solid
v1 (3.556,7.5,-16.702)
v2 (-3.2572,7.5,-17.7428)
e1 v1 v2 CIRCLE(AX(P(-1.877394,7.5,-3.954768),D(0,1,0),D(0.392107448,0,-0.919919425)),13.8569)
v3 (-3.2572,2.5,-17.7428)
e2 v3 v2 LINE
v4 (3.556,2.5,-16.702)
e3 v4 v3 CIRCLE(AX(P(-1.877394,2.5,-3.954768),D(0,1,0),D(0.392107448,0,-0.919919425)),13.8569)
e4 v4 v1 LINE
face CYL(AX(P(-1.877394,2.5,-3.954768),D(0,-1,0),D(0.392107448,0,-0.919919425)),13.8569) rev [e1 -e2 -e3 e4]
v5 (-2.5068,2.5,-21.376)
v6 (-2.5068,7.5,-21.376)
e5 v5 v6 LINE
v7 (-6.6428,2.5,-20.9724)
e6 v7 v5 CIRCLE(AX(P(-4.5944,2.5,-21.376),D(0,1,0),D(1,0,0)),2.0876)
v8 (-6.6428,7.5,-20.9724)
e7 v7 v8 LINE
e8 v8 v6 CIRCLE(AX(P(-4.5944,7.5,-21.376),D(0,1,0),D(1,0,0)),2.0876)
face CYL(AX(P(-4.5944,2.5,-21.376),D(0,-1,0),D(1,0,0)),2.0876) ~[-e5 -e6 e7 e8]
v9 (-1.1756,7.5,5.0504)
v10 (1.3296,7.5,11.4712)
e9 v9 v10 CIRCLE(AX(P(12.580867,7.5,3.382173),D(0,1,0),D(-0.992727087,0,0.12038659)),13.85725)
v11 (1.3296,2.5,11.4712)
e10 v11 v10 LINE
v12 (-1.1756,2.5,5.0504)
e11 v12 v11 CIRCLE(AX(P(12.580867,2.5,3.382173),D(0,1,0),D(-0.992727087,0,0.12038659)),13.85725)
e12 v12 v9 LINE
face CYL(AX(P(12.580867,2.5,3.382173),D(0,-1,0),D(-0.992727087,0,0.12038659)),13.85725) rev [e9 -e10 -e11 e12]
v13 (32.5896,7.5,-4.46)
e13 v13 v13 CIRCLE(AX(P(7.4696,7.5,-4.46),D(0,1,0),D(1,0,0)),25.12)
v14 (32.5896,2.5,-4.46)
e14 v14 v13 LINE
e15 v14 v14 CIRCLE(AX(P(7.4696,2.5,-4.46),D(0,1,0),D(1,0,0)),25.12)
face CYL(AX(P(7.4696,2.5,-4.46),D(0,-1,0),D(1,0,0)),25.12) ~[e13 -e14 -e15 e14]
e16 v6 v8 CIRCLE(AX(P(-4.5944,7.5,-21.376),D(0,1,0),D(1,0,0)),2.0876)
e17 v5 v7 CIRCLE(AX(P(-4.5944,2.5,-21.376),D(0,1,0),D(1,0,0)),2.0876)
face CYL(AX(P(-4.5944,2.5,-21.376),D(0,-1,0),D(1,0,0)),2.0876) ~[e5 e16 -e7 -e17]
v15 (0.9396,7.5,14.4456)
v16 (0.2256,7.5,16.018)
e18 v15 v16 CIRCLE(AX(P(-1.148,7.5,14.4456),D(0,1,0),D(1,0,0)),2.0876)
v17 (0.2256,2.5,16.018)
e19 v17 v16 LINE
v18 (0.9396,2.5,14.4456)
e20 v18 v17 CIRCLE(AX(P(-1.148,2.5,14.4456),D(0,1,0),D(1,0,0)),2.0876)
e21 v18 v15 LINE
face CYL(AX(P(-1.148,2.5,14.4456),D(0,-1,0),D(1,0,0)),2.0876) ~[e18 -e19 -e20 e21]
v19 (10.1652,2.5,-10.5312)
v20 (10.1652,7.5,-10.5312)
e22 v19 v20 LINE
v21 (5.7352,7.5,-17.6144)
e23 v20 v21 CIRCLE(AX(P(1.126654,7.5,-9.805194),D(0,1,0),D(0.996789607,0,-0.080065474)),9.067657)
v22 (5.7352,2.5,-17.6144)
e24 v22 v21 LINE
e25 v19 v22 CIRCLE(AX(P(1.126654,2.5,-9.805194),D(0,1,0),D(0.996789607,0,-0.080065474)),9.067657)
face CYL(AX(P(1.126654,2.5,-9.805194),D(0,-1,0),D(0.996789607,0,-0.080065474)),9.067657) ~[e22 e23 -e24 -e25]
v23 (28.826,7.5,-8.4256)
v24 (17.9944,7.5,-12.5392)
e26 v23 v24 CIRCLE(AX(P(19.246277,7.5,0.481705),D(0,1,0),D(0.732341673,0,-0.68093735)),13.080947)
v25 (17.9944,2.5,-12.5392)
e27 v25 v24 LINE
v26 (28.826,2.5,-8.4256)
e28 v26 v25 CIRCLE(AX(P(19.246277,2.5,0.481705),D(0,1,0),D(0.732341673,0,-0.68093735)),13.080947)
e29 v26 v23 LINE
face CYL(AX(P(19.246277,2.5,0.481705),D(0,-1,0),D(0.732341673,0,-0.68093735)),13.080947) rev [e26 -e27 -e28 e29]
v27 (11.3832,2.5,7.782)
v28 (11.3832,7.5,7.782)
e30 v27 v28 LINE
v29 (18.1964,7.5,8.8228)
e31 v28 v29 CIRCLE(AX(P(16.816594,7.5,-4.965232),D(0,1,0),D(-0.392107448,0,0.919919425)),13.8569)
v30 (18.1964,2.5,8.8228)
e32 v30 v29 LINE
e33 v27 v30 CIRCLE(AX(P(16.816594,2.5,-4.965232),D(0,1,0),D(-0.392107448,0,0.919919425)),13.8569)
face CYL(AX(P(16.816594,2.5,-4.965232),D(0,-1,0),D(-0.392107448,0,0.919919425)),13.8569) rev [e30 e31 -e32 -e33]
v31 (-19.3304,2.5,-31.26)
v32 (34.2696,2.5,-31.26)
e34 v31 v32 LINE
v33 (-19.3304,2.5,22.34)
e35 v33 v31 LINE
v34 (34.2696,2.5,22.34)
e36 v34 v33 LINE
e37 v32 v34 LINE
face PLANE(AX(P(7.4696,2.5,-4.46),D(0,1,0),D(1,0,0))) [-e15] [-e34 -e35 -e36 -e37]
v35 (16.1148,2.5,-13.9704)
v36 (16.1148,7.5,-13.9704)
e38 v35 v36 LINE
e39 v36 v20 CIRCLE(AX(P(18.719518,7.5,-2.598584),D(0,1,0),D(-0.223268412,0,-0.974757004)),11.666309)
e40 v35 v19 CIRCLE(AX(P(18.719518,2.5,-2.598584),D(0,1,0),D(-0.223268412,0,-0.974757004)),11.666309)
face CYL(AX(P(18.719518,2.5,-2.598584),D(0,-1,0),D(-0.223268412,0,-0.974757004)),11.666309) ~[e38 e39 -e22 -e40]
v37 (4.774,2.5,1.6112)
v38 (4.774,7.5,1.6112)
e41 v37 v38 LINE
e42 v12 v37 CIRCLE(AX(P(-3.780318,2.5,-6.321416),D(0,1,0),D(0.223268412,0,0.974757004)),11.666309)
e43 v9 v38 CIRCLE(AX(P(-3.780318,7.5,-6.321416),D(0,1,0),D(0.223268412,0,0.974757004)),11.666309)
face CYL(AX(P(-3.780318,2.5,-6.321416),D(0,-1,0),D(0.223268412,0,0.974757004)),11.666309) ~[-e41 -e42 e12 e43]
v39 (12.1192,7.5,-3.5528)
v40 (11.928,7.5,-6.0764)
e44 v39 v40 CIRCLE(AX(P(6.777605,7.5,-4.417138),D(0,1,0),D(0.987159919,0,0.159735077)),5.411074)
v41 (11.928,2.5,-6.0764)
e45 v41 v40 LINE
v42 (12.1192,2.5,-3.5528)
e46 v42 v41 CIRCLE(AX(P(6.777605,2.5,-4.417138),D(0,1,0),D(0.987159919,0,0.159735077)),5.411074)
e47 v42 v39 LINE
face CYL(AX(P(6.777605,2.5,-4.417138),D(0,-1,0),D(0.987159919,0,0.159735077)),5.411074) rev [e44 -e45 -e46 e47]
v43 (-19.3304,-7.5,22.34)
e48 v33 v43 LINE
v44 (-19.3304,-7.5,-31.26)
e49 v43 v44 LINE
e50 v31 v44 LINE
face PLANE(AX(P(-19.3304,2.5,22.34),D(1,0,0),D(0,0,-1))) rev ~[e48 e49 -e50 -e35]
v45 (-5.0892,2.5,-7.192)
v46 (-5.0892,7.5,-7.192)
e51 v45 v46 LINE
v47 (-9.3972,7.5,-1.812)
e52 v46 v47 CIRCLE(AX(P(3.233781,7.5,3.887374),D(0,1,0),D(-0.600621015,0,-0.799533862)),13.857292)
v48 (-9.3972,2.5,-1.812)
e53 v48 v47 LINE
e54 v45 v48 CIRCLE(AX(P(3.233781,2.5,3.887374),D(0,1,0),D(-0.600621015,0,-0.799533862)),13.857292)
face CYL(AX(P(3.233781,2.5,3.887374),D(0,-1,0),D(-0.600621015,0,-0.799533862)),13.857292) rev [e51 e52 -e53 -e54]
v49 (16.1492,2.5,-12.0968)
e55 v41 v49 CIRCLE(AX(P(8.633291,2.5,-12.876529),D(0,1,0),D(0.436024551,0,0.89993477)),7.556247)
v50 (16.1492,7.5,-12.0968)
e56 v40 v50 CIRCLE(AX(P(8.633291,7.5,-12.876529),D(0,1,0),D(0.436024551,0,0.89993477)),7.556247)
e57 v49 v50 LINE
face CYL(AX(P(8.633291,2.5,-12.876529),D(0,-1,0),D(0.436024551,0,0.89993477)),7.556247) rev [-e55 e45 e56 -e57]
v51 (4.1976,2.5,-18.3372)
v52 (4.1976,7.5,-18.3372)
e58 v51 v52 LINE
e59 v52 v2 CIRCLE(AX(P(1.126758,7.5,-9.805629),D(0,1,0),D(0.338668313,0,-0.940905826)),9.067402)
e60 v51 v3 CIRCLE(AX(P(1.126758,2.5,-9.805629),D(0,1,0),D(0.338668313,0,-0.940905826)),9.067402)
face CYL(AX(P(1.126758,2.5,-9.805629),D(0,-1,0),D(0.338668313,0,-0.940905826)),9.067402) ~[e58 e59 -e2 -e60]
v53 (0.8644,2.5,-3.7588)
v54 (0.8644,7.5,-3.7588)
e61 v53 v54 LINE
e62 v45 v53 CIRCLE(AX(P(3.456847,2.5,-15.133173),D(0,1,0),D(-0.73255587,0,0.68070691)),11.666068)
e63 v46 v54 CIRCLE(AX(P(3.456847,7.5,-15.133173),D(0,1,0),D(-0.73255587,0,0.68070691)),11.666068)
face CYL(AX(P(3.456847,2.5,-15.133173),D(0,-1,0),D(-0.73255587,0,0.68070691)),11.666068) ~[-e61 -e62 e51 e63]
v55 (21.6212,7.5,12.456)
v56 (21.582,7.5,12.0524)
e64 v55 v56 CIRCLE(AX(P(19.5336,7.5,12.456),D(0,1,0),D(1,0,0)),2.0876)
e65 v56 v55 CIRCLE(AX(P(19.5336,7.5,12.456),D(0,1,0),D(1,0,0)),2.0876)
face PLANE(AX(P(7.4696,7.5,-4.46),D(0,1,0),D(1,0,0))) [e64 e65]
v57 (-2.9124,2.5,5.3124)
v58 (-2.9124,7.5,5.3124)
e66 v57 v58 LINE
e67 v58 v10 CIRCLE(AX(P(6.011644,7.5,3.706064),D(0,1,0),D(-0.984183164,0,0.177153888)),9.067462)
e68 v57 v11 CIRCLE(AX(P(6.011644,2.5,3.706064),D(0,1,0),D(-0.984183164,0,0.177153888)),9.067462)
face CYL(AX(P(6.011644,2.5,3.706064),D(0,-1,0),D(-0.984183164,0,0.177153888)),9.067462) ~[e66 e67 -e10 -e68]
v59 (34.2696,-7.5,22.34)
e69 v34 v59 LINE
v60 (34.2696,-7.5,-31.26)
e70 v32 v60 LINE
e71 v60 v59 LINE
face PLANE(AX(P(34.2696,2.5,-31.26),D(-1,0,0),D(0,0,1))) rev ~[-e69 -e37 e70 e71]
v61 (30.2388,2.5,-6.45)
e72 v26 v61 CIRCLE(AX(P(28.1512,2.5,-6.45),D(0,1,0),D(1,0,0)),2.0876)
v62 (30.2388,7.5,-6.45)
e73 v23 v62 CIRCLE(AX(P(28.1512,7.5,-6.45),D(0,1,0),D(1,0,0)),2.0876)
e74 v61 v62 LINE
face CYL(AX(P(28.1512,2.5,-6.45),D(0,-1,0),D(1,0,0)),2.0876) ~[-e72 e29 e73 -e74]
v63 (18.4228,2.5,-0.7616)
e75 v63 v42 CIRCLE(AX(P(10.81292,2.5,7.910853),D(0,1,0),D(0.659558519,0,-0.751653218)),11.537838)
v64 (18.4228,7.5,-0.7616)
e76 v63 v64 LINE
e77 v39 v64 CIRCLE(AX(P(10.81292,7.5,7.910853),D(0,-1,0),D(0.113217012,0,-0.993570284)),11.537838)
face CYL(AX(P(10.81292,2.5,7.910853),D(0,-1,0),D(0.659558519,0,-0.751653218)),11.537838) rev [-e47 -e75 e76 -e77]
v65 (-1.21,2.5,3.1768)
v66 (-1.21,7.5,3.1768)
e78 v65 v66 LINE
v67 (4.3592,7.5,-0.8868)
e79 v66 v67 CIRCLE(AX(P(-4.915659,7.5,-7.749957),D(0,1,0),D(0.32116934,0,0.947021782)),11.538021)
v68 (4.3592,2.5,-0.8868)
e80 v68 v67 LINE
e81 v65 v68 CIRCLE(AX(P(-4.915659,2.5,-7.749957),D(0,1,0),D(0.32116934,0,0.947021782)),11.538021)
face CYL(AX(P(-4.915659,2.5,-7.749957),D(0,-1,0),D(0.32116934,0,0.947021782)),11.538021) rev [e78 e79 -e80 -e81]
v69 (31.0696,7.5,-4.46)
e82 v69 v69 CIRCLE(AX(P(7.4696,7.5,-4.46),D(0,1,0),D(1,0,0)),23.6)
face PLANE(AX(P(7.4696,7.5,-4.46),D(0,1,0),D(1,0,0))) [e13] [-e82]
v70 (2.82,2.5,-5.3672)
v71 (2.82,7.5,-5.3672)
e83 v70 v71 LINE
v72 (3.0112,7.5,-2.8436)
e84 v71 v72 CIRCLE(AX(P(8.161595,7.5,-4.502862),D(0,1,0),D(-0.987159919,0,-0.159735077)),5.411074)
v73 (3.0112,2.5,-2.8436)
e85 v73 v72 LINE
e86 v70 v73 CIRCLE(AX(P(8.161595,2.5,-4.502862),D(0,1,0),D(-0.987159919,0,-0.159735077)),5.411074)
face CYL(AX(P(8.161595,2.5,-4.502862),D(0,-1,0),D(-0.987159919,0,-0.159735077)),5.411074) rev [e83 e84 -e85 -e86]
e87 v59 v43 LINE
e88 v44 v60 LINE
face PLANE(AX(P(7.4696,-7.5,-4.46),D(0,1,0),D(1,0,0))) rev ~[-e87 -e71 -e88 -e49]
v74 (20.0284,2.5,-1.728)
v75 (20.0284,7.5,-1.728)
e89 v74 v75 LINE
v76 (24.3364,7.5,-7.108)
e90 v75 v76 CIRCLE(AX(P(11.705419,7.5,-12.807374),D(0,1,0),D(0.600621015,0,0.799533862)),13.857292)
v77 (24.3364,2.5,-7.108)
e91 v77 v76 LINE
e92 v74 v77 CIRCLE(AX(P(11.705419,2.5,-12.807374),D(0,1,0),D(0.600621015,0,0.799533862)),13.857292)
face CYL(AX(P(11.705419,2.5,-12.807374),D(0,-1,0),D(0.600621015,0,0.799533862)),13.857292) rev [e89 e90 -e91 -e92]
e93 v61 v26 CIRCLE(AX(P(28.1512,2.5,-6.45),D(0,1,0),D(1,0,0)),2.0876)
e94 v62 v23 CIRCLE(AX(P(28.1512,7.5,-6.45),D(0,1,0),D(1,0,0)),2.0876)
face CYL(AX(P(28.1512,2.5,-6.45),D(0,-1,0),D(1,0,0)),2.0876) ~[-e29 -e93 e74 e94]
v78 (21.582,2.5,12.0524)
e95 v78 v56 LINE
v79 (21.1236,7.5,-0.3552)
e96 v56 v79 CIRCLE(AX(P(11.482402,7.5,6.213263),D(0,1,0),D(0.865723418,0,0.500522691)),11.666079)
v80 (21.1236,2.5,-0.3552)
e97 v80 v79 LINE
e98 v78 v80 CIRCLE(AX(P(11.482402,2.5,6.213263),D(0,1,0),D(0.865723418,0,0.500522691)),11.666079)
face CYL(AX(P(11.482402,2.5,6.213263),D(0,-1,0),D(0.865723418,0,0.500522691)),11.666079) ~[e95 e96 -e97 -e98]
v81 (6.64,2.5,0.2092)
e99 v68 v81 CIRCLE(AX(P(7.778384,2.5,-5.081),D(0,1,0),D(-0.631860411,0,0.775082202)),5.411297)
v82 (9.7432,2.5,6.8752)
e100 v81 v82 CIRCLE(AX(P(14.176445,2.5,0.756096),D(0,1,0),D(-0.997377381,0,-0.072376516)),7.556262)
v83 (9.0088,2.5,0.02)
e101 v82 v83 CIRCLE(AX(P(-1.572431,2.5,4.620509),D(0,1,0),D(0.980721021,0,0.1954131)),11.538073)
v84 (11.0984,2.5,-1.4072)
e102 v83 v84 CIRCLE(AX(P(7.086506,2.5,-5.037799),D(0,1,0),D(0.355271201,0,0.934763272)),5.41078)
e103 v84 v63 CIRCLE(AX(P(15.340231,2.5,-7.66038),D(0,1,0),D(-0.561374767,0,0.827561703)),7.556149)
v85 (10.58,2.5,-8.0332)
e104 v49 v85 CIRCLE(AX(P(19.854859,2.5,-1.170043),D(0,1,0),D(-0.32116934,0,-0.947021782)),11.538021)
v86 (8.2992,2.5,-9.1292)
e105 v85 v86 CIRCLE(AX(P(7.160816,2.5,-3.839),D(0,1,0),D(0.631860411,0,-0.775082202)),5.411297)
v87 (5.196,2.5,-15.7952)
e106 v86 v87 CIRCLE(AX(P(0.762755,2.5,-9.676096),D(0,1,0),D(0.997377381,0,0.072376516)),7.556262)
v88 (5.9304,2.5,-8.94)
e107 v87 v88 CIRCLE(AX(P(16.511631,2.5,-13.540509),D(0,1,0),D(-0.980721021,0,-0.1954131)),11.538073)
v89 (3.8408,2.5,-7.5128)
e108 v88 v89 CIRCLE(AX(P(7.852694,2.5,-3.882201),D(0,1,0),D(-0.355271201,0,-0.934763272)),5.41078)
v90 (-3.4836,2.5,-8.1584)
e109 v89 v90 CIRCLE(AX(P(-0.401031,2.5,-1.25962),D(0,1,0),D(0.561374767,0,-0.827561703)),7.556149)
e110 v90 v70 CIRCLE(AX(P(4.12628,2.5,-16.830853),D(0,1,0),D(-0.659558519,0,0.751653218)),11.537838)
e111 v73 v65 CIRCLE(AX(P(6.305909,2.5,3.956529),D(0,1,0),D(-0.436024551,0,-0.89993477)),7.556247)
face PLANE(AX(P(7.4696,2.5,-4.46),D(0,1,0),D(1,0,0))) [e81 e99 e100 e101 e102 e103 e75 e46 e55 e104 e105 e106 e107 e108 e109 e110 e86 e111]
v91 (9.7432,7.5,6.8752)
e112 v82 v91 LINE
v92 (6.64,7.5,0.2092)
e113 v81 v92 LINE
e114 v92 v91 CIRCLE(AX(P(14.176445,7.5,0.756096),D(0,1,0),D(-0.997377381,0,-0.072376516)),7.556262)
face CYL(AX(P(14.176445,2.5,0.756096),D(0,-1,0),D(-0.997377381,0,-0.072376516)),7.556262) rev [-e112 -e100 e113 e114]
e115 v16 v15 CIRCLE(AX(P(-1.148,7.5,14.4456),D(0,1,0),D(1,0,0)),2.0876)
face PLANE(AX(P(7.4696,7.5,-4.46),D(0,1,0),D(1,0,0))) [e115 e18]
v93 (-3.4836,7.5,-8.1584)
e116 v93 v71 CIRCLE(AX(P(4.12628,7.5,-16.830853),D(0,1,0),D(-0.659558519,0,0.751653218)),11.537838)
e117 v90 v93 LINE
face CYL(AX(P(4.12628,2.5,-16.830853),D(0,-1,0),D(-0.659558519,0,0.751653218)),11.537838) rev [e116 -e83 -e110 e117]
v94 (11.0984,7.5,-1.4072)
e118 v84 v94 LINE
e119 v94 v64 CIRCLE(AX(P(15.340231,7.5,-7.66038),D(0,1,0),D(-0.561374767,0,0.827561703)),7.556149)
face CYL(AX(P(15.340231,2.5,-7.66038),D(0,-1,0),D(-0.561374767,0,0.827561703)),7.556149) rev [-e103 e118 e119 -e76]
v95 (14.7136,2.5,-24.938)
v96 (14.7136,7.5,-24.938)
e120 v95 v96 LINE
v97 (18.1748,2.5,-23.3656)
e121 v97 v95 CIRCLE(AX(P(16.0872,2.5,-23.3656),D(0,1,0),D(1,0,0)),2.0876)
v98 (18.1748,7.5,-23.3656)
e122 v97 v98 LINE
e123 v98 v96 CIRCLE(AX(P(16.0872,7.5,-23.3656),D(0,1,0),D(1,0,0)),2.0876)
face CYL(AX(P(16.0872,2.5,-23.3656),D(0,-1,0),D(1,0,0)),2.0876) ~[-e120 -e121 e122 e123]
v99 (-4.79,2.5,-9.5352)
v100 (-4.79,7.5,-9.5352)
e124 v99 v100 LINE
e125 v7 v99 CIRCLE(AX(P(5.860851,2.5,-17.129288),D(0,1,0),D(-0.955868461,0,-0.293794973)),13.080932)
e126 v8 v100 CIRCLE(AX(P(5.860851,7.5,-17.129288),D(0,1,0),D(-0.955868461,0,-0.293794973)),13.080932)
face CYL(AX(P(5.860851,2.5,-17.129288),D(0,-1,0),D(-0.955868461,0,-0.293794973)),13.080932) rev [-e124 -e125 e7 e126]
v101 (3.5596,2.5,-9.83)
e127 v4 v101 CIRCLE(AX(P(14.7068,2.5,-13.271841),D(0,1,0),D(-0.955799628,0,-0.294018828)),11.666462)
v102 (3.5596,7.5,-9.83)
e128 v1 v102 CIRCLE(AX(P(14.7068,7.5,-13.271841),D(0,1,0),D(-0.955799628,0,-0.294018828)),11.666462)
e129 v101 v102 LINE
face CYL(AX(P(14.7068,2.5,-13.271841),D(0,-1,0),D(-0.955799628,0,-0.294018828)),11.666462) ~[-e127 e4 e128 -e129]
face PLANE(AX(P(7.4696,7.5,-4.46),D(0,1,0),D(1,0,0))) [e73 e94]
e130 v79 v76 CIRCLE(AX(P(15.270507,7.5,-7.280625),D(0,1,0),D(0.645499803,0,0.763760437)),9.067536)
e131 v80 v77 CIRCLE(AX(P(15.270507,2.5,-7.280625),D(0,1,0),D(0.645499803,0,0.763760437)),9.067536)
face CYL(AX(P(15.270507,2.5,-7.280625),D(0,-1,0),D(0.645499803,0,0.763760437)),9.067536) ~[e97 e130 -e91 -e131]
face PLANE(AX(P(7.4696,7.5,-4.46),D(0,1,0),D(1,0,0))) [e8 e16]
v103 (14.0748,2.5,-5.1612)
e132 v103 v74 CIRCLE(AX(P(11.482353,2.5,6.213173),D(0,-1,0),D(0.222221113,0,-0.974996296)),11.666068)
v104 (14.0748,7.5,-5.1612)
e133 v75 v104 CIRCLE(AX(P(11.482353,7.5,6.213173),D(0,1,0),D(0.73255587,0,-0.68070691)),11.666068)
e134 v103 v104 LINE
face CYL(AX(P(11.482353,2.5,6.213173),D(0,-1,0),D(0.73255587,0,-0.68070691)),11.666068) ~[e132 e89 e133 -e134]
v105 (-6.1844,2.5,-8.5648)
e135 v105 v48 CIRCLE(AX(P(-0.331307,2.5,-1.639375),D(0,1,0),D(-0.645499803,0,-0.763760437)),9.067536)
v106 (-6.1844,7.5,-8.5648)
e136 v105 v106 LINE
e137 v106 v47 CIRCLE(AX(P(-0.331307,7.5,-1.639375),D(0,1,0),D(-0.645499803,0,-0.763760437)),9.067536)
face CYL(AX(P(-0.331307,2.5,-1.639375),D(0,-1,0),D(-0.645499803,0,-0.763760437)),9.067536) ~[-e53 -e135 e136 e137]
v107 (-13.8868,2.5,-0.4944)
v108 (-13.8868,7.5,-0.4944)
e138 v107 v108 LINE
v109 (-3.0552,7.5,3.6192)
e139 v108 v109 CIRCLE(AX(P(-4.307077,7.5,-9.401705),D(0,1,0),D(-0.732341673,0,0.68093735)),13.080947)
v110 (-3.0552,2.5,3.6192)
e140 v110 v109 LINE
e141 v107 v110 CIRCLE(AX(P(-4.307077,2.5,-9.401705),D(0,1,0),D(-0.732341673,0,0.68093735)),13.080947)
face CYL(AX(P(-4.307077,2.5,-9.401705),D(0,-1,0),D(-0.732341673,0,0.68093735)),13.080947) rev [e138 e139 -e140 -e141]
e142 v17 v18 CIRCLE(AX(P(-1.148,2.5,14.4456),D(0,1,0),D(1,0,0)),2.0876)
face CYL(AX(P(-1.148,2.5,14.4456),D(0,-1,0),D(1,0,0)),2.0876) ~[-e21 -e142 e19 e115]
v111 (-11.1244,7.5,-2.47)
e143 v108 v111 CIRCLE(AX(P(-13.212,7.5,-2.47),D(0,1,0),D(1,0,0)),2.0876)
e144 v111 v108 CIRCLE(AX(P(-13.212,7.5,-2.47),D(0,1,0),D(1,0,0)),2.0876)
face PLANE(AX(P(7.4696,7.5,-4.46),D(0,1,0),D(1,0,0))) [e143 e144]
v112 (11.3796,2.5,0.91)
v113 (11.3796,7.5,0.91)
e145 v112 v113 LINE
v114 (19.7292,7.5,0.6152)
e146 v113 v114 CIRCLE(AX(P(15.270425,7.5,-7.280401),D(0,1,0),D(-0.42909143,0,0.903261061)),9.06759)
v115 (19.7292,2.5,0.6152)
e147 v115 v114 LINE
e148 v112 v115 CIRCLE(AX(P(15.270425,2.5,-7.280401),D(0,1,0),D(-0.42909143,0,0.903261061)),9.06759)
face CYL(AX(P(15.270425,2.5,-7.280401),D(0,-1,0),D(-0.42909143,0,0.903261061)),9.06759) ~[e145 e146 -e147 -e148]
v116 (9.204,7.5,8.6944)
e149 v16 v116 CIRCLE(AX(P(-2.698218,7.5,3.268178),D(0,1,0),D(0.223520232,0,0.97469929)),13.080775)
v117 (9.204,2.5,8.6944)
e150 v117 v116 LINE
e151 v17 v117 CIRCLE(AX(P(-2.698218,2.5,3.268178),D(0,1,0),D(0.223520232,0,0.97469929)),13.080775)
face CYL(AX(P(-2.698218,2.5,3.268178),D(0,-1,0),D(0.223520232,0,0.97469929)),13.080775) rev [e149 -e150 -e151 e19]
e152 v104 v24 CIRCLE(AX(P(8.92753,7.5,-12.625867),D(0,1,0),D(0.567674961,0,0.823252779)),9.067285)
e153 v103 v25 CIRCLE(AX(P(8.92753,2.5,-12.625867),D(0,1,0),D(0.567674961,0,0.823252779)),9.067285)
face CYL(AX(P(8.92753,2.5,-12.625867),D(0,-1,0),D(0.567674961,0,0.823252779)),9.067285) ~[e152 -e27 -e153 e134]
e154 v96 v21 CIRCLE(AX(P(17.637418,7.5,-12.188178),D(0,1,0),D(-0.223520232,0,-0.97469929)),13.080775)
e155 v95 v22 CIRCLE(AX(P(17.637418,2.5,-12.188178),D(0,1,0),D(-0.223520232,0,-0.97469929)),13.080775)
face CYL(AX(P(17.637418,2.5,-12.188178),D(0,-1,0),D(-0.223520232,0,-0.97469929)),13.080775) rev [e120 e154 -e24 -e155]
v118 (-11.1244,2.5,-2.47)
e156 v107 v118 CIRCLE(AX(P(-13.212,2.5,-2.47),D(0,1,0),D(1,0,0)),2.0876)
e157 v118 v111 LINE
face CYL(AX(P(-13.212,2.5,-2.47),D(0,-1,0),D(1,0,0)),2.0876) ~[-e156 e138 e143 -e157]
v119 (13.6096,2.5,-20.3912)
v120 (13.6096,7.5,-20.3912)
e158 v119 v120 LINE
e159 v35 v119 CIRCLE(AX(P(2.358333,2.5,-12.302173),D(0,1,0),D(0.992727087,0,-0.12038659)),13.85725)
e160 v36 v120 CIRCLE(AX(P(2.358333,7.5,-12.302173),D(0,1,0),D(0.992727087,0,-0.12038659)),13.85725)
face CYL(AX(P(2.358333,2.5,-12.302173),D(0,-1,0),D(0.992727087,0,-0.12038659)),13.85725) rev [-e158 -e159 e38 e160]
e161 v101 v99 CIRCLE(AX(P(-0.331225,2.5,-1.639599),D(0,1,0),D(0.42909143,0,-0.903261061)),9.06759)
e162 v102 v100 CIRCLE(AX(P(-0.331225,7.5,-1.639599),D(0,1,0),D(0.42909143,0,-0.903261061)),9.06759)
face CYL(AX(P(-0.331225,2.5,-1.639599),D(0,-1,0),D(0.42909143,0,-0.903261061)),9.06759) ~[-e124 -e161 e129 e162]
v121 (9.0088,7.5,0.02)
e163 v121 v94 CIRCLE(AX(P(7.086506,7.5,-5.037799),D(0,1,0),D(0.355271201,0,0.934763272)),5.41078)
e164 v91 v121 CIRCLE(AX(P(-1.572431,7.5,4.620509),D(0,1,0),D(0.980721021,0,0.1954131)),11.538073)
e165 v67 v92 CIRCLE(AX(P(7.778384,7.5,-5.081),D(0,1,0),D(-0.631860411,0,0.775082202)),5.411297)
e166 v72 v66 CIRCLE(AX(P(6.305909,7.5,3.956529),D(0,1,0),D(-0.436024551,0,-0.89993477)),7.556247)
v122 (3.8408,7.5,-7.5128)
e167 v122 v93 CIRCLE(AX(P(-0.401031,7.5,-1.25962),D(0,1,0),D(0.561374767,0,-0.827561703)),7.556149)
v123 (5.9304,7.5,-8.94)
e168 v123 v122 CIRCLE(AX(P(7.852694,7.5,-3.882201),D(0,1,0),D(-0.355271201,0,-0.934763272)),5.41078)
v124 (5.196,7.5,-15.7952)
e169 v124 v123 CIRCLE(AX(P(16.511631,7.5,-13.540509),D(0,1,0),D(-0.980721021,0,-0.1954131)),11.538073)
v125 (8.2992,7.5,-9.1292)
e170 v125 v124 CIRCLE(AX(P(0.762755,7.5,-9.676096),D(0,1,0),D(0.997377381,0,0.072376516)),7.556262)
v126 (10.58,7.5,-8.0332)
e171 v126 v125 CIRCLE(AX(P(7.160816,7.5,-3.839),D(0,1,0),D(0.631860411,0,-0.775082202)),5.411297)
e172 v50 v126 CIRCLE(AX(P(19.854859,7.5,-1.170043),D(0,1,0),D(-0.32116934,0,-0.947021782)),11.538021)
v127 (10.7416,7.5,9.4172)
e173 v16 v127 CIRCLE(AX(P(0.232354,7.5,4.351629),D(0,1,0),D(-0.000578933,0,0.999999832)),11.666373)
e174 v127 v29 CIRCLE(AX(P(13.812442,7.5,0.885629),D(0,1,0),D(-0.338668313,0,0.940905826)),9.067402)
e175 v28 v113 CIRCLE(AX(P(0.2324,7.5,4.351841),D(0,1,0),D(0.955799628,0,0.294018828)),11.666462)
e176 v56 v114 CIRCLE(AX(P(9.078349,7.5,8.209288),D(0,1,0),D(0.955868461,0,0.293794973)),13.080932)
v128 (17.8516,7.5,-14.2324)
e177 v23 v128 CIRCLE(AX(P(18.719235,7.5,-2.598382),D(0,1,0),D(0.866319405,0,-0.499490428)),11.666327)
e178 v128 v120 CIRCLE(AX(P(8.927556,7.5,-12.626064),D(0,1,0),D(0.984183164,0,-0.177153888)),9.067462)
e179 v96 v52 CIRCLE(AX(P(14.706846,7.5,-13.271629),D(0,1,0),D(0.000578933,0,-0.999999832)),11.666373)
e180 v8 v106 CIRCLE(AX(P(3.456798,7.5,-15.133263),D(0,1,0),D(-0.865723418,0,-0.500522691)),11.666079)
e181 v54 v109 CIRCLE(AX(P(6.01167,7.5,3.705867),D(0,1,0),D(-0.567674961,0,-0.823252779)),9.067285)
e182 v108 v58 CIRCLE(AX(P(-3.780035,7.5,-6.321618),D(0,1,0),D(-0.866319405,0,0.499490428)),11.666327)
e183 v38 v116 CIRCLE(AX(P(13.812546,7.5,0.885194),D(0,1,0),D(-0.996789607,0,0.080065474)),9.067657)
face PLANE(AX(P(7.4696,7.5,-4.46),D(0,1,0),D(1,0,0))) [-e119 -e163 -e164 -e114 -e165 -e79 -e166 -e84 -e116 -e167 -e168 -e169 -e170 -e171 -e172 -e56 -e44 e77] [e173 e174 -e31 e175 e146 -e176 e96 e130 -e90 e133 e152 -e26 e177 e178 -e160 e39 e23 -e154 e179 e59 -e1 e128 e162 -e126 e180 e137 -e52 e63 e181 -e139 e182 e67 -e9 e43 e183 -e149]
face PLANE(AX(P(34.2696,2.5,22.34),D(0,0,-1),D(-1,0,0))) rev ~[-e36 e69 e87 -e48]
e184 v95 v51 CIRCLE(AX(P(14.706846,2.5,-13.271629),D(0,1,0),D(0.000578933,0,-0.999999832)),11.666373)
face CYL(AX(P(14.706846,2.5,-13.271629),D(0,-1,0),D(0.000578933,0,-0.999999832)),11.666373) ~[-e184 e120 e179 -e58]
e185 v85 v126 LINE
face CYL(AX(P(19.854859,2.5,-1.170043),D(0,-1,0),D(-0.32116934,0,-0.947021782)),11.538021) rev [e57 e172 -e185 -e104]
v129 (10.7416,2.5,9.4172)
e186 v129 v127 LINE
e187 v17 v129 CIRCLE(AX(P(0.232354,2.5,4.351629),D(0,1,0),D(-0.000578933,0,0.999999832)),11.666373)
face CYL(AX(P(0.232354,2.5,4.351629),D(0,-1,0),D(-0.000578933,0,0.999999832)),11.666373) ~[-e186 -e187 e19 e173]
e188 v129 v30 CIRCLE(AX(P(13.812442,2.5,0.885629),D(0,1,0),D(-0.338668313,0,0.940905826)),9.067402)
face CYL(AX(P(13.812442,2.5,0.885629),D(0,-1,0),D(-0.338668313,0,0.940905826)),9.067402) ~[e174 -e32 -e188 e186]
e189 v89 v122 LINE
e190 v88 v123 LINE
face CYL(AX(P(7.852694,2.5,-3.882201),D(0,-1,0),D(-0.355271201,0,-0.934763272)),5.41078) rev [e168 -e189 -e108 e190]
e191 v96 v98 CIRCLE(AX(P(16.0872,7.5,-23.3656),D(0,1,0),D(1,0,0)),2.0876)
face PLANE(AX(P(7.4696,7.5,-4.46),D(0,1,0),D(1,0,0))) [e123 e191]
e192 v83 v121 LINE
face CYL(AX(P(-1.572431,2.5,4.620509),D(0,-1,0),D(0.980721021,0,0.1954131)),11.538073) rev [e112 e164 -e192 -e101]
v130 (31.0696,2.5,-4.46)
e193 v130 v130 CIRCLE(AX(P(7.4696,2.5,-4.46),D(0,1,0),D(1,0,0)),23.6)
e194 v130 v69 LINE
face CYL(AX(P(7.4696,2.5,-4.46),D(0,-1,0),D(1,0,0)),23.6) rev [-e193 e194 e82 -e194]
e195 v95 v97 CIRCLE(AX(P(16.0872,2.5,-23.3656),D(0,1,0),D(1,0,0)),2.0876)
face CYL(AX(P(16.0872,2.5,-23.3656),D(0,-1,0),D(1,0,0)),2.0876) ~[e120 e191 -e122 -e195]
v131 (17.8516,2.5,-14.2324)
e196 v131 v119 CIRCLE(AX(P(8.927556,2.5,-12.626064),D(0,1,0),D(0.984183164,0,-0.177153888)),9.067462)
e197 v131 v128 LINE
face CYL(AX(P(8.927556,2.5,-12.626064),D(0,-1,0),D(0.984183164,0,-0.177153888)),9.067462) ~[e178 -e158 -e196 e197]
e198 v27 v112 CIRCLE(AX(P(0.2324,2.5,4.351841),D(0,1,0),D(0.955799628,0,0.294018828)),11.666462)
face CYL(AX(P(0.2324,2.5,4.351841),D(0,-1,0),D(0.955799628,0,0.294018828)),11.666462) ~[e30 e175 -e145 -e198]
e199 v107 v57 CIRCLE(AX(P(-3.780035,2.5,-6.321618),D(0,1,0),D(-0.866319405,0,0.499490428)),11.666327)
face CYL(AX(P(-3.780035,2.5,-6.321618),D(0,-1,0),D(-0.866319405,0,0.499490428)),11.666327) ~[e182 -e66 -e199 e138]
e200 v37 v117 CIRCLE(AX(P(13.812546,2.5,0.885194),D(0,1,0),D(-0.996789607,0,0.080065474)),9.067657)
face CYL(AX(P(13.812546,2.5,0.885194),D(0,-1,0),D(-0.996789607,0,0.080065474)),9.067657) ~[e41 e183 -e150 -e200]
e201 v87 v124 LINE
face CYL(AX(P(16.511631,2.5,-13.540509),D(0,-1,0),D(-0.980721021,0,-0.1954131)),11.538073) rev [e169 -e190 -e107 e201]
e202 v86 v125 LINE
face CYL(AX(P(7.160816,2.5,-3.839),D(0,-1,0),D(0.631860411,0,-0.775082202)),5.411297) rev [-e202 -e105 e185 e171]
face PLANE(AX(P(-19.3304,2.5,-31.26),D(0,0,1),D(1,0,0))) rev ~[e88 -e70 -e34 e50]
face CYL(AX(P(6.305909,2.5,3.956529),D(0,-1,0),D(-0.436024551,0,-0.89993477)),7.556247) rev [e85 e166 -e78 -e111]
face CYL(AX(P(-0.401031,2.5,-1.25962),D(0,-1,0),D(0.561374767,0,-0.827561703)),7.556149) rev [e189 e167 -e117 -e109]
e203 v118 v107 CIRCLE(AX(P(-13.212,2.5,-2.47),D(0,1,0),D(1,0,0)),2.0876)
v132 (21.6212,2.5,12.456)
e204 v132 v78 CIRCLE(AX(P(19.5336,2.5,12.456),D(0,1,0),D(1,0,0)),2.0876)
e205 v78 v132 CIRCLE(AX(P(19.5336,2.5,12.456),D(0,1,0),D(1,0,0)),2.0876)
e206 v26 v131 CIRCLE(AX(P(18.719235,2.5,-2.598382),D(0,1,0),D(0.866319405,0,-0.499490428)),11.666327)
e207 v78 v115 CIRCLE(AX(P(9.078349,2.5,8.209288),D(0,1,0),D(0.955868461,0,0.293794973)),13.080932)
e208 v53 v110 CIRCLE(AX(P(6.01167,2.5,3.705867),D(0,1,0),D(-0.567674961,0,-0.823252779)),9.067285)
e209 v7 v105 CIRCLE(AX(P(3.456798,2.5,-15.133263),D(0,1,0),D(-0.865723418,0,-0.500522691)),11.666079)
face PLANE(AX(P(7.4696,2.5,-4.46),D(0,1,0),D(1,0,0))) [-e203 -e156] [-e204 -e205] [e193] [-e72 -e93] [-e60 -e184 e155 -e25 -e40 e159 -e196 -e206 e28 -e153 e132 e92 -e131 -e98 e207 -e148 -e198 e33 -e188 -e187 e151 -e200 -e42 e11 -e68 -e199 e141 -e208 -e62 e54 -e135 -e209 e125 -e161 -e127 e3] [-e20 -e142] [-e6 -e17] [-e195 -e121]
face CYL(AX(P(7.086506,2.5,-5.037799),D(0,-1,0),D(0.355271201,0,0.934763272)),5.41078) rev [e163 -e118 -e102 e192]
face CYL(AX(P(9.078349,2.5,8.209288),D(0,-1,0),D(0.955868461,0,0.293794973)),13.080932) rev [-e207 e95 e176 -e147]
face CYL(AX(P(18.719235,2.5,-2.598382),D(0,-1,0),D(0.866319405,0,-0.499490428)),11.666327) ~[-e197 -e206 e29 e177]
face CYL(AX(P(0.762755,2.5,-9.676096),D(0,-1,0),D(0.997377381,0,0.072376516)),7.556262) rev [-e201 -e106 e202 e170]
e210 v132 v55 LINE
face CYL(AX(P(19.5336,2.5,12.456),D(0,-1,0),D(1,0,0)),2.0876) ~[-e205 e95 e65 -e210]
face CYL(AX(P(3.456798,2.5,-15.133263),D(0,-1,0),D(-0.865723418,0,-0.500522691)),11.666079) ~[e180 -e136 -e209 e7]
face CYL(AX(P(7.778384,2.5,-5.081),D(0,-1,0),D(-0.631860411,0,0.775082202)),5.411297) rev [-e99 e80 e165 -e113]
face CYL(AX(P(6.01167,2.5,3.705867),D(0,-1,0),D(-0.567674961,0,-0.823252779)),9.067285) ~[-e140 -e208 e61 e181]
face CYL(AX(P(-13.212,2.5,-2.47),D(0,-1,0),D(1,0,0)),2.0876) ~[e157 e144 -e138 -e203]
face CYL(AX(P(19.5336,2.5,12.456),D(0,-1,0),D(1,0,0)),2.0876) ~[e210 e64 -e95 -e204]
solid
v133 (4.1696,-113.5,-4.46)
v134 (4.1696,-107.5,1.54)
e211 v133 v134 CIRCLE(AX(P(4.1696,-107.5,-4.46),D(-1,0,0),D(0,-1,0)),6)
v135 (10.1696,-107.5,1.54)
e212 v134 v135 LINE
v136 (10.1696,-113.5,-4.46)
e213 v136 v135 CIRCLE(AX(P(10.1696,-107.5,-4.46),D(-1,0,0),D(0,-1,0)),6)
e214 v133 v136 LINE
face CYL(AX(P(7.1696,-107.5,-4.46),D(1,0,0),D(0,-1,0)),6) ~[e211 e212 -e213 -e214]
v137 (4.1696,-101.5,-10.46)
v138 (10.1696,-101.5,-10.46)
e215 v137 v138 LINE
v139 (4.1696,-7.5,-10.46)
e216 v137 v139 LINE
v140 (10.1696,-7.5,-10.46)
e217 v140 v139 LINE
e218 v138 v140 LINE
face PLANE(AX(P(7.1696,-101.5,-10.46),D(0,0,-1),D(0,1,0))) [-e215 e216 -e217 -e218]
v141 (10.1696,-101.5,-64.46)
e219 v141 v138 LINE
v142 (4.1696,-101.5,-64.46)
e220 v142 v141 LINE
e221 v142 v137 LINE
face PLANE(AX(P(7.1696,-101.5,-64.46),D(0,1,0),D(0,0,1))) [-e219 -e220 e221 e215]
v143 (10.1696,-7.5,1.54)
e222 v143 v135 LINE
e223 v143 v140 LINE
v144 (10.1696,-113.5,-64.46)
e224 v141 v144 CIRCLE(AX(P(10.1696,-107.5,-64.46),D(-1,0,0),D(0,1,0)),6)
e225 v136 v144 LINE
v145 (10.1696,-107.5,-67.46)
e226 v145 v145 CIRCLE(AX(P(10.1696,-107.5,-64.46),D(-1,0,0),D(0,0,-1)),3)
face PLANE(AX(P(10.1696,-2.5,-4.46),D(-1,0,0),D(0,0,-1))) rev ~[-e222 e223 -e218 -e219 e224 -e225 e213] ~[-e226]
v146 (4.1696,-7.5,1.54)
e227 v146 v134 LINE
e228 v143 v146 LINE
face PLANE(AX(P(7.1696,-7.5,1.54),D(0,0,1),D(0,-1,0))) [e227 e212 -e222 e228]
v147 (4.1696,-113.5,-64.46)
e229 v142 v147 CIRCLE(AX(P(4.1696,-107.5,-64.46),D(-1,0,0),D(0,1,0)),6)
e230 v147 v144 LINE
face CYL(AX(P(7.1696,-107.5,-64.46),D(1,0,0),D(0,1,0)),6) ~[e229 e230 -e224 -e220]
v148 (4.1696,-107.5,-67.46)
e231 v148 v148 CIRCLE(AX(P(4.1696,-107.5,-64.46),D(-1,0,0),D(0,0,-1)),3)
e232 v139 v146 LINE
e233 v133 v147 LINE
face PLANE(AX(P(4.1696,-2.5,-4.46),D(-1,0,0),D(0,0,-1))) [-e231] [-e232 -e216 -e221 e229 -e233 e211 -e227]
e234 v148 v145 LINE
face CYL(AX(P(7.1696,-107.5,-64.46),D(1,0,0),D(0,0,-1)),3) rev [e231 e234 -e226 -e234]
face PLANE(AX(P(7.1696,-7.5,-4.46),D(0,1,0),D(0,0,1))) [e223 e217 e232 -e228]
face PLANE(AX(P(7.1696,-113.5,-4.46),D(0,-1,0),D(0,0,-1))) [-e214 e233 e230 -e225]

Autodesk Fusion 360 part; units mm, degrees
sketch "Sketch1" plane through (0, 0, 0) normal (0, 1, 0) x (1, 0, 0)
  arc A0 (0.3848, -1.12) -> (0.9072, -0.7632) centre (-0.0957, 0.1445) ccw
  arc A1 (3.1397, -0.683) -> (4.2167, 0.662) centre (1.059, 2.0869) ccw
  arc A2 (0.9072, -0.7632) -> (2.7383, -0.9246) centre (1.9676, 0.8001) ccw
  arc A3 (3.0458, -0.7511) -> (3.0474, -0.7499) centre (2.7604, -0.3405) ccw
  arc A4 (-1.811, -5.1195) -> (0.4336, -3.2886) centre (-2.5419, -1.932) ccw
  arc A5 (3.5281, -4.1281) -> (3.0649, -1.2688) centre (0.4022, -3.1674) ccw
  arc A6 (1.1624, -0.2268) -> (1.1146, 0.4041) centre (-0.173, -0.0107) ccw
  arc A7 (1.1146, 0.4041) -> (2.1699, 1.9092) centre (0.2909, 2.1041) ccw
  arc A8 (5.3391, 0.9914) -> (2.6312, 2.0198) centre (2.9441, -1.2354) ccw
  arc A9 (0.7776, 0.8933) -> (0.2074, 1.1673) centre (-0.0773, -0.1552) ccw
  arc A10 (0.2074, 1.1673) -> (-0.5684, 2.8338) centre (-1.6767, 1.304) ccw
  arc A11 (-0.9784, 3.0605) -> (-2.6817, 3.3207) centre (-2.3368, -0.1263) ccw
  arc A12 (1.811, 5.1195) -> (-0.4336, 3.2886) centre (2.5419, 1.932) ccw
  arc A13 (-0.3848, 1.12) -> (-0.9072, 0.7632) centre (0.0957, -0.1445) ccw
  arc A14 (-0.9072, 0.7632) -> (-2.7383, 0.9246) centre (-1.9676, -0.8001) ccw
  arc A15 (-3.1397, 0.683) -> (-4.2167, -0.662) centre (-1.059, -2.0869) ccw
  arc A16 (-3.5281, 4.1281) -> (-3.0649, 1.2688) centre (-0.4022, 3.1674) ccw
  arc A17 (-1.1624, 0.2268) -> (-1.1146, -0.4041) centre (0.173, 0.0107) ccw
  arc A18 (-1.1146, -0.4041) -> (-2.1699, -1.9092) centre (-0.2909, -2.1041) ccw
  arc A19 (-2.1613, -2.3776) -> (-1.535, -3.9828) centre (1.2778, -1.9605) ccw
  arc A20 (-5.3391, -0.9914) -> (-2.6312, -2.0198) centre (-2.9441, 1.2354) ccw
  arc A21 (-0.7776, -0.8933) -> (-0.2074, -1.1673) centre (0.0773, 0.1552) ccw
  arc A22 (-0.2074, -1.1673) -> (0.5684, -2.8338) centre (1.6767, -1.304) ccw
  arc A23 (0.9784, -3.0605) -> (2.6817, -3.3207) centre (2.3368, 0.1263) ccw
  arc A24 (0.5684, -2.8338) -> (0.3848, -1.12) centre (-2.2605, -2.2702) ccw
  arc A25 (-2.1699, -1.9092) -> (-0.7776, -0.8933) centre (-3.0963, 0.8225) ccw
  arc A26 (-2.7383, 0.9246) -> (-1.1624, 0.2268) centre (-0.8358, 3.0927) ccw
  arc A27 (-0.5684, 2.8338) -> (-0.3848, 1.12) centre (2.2605, 2.2702) ccw
  arc A28 (2.1699, 1.9092) -> (0.7776, 0.8933) centre (3.0963, -0.8225) ccw
  arc A29 (2.7383, -0.9246) -> (1.1624, -0.2268) centre (0.8358, -3.0927) ccw
  line L0 (6.7, -6.7) -> (-6.7, -6.7)
  line L1 (-6.7, -6.7) -> (-6.7, 6.7)
  line L2 (-6.7, 6.7) -> (6.7, 6.7)
  line L3 (6.7, 6.7) -> (6.7, -6.7)
  arc A30 (-0.6739, -1.5178) -> (0.4336, -3.2886) centre (1.5858, -1.3364) ccw
  arc A31 (0.818, -3.4693) -> (2.6817, -3.3207) centre (1.5858, -1.3364) ccw
  arc A32 (-1.811, -5.1195) -> (0.818, -3.4693) centre (-1.8093, -2.2029) ccw
  arc A33 (0.9784, -3.0605) -> (0.9775, -1.3425) centre (-1.8093, -2.2029) ccw
  arc A34 (0.9775, -1.3425) -> (3.0649, -1.2688) centre (1.9502, 0.7051) ccw
  arc A35 (3.4135, -1.0262) -> (4.2167, 0.662) centre (1.9502, 0.7051) ccw
  arc A36 (3.1397, -0.683) -> (1.6513, 0.1753) centre (1.0032, -2.6683) ccw
  arc A37 (3.5281, -4.1281) -> (3.4135, -1.0262) centre (1.0032, -2.6683) ccw
  arc A38 (1.6513, 0.1753) -> (2.6312, 2.0198) centre (0.3645, 2.0415) ccw
  arc A39 (2.5955, 2.4431) -> (1.535, 3.9828) centre (0.3645, 2.0415) ccw
  arc A40 (2.1613, 2.3776) -> (0.6739, 1.5178) centre (2.8124, -0.4654) ccw
  arc A41 (5.3391, 0.9914) -> (2.5955, 2.4431) centre (2.8124, -0.4654) ccw
  arc A42 (0.6739, 1.5178) -> (-0.4336, 3.2886) centre (-1.5858, 1.3364) ccw
  arc A43 (-0.818, 3.4693) -> (-2.6817, 3.3207) centre (-1.5858, 1.3364) ccw
  arc A44 (-0.9784, 3.0605) -> (-0.9775, 1.3425) centre (1.8093, 2.2029) ccw
  arc A45 (1.811, 5.1195) -> (-0.818, 3.4693) centre (1.8093, 2.2029) ccw
  arc A46 (-0.9775, 1.3425) -> (-3.0649, 1.2688) centre (-1.9502, -0.7051) ccw
  arc A47 (-3.4135, 1.0262) -> (-4.2167, -0.662) centre (-1.9502, -0.7051) ccw
  arc A48 (-3.1397, 0.683) -> (-1.6513, -0.1753) centre (-1.0032, 2.6683) ccw
  arc A49 (-3.5281, 4.1281) -> (-3.4135, 1.0262) centre (-1.0032, 2.6683) ccw
  arc A50 (-1.6513, -0.1753) -> (-2.6312, -2.0198) centre (-0.3645, -2.0415) ccw
  arc A51 (-2.5955, -2.4431) -> (-1.535, -3.9828) centre (-0.3645, -2.0415) ccw
  arc A52 (-2.1613, -2.3776) -> (-0.6739, -1.5178) centre (-2.8124, 0.4654) ccw
  arc A53 (-5.3391, -0.9914) -> (-2.5955, -2.4431) centre (-2.8124, 0.4654) ccw
  arc A54 (2.1613, 2.3776) -> (1.535, 3.9828) centre (-1.2778, 1.9605) ccw
  circle A55 centre (3.016, -4.229) radius 0.5219
  circle A56 centre (5.1704, 0.4975) radius 0.5219
  circle A57 centre (2.1544, 4.7264) radius 0.5219
  circle A58 centre (-3.016, 4.229) radius 0.5219
  circle A59 centre (-5.1704, -0.4975) radius 0.5219
  circle A60 centre (-2.1544, -4.7264) radius 0.5219
  circle A61 centre (0, 0) radius 5.9
  circle A62 centre (0, 0) radius 6.28
  dimension "d1" = 0.5
  dimension "d9" = 13.4
  dimension "d10" = 13.4
  dimension "d15" = 6.7
  dimension "d23" = 360
  dimension "d25" = 11.8
  dimension "d26" = 12.56
  dimension "d27" = 6.7
extrude "Extrude1" add sketch "Sketch1" along normal blind 1.25 contours A0 A1 A2 A3 A4 A5 A6 A7 A8 A9 A10 A11 A12 A13 A14 A15 A16 A17 A18 A19 A20 A21 A22 A23 A24 A25 A26 A27 A28 A29 A30 A31 A32 A33 A34 A35 A36 A37 A38 A39 A40 A41 A42 A43 A44 A45 A46 A47 A48 A49 A50 A51 A52 A53 A54 | A3 A29 A36 | A55 | A60 | A59 | A58 | A57 | A56 | A62 makes body 1 at (-2.3208, 0, 2.1022) makes body 2 at (6.2722, 0.8333, 0.313)
extrude "Extrude2" add sketch "Sketch1" against normal blind 2.5 contours A0 A2 A3 A6 A7 A9 A10 A13 A14 A17 A18 A21 A22 A24 A25 A26 A27 A28 A29 | A0 A1 A2 A3 A4 A5 A6 A7 A8 A9 A10 A11 A12 A13 A14 A15 A16 A17 A18 A19 A20 A21 A22 A23 A24 A25 A26 A27 A28 A29 A30 A31 A32 A33 A34 A35 A36 A37 A38 A39 A40 A41 A42 A43 A44 A45 A46 A47 A48 A49 A50 A51 A52 A53 A54 | A3 A29 A36 | A3 A29 | A3 A36 | A55 | A60 | A59 | A58 | A57 | A56 | L0 L1 L2 L3 | A61 | A62 bodies 2 1
scale "Scale1" factor 2 about (-6.7, -2.5, 6.7) bodies 2
scale "Scale2" factor 2 about (5.9304, 2.5, -8.94) bodies 2
sketch "Sketch2" plane through (0, 2.5, 0) normal (0, 1, 0) x (-1, 0, 0)
  arc A0 (-18.4229, -0.7616) -> (-12.1191, -3.5529) centre (-10.8129, 7.911) ccw
  arc A1 (-12.1191, -3.5529) -> (-11.928, -6.0762) centre (-6.7775, -4.4173) ccw
  arc A2 (-11.928, -6.0762) -> (-16.1492, -12.0967) centre (-8.6334, -12.8762) ccw
  arc A3 (-16.1492, -12.0967) -> (-10.5798, -8.033) centre (-19.8548, -1.1699) ccw
  arc A4 (-10.5798, -8.033) -> (-8.2991, -9.1292) centre (-7.1605, -3.8393) ccw
  arc A5 (-8.2991, -9.1292) -> (-5.1958, -15.795) centre (-0.7628, -9.676) ccw
  arc A6 (-5.1958, -15.795) -> (-5.9304, -8.94) centre (-16.5115, -13.5408) ccw
  arc A7 (-5.9304, -8.94) -> (-3.8407, -7.5129) centre (-7.8526, -3.8819) ccw
  arc A8 (-3.8407, -7.5129) -> (3.4837, -8.1583) centre (0.401, -1.2597) ccw
  arc A9 (3.4837, -8.1583) -> (-2.8202, -5.367) centre (-4.1263, -16.8309) ccw
  arc A10 (-2.8202, -5.367) -> (-3.0112, -2.8437) centre (-8.1617, -4.5026) ccw
  arc A11 (-3.0112, -2.8437) -> (1.2099, 3.1767) centre (-6.3058, 3.9563) ccw
  arc A12 (1.2099, 3.1767) -> (-4.3594, -0.8869) centre (4.9156, -7.7501) ccw
  arc A13 (-4.3594, -0.8869) -> (-6.6401, 0.2092) centre (-7.7787, -5.0806) ccw
  arc A14 (-6.6401, 0.2092) -> (-9.7434, 6.8751) centre (-14.1764, 0.756) ccw
  arc A15 (-9.7434, 6.8751) -> (-9.0088, 0.0201) centre (1.5723, 4.6208) ccw
  arc A16 (-9.0088, 0.0201) -> (-11.0985, -1.407) centre (-7.0866, -5.038) ccw
  arc A17 (-11.0985, -1.407) -> (-18.4229, -0.7616) centre (-15.3402, -7.6602) ccw
sketch "Sketch3" plane through (0, -7.5, 0) normal (0, -1, 0) x (1, 0, 0)
  line L0 (-19.3304, -31.26) -> (34.2696, -31.26)
  line L1 (34.2696, -31.26) -> (34.2696, 22.34)
  line L2 (34.2696, 22.34) -> (-19.3304, 22.34)
  line L3 (-19.3304, 22.34) -> (-19.3304, -31.26)
  line L4 (10.4696, 10.54) -> (4.4696, 10.54)
  line L5 (4.4696, 10.54) -> (4.4696, -19.46)
  line L6 (4.4696, -19.46) -> (10.4696, -19.46)
  line L7 (10.4696, -19.46) -> (10.4696, 10.54)
  point P0 (7.4696, -4.46)
  dimension "d28" = 6
  dimension "d29" = 30
ref_plane "WorkPlane1" through (7.1696, -2.5, -4.46) normal (-1, 0, 0) x (0, 0, -1)
sketch "Sketch4" plane through (7.1696, -2.5, -4.46) normal (-1, 0, 0) x (0, 0, -1)
  line L0 (-26.8, -5) -> (26.8, -5)
  line L1 (26.8, -5) -> (26.8, 5)
  line L2 (26.8, 5) -> (-26.8, 5)
  line L3 (-26.8, 5) -> (-26.8, -5)
  line L4 (0, 5) -> (-6, 5)
  line L5 (-6, 5) -> (-6, 105)
  line L6 (6, 99) -> (6, 5)
  arc A0 (0, 111) -> (-6, 105) centre (0, 105) ccw
  line L7 (0, 111) -> (60, 111)
  line L8 (60, 99) -> (6, 99)
  circle A1 centre (60, 105) radius 3
  arc A2 (60, 99) -> (60, 111) centre (60, 105) ccw
  dimension "d31" = 6
  dimension "d32" = 100
  dimension "d37" = 60
  dimension "d38" = 12
  dimension "d39" = 12
  dimension "d40" = 6
extrude "Extrude3" add sketch "Sketch4" along normal mid plane 6 separate body contours L2 L4 L5 L6 A0 L7 L8 A2 makes body 3
